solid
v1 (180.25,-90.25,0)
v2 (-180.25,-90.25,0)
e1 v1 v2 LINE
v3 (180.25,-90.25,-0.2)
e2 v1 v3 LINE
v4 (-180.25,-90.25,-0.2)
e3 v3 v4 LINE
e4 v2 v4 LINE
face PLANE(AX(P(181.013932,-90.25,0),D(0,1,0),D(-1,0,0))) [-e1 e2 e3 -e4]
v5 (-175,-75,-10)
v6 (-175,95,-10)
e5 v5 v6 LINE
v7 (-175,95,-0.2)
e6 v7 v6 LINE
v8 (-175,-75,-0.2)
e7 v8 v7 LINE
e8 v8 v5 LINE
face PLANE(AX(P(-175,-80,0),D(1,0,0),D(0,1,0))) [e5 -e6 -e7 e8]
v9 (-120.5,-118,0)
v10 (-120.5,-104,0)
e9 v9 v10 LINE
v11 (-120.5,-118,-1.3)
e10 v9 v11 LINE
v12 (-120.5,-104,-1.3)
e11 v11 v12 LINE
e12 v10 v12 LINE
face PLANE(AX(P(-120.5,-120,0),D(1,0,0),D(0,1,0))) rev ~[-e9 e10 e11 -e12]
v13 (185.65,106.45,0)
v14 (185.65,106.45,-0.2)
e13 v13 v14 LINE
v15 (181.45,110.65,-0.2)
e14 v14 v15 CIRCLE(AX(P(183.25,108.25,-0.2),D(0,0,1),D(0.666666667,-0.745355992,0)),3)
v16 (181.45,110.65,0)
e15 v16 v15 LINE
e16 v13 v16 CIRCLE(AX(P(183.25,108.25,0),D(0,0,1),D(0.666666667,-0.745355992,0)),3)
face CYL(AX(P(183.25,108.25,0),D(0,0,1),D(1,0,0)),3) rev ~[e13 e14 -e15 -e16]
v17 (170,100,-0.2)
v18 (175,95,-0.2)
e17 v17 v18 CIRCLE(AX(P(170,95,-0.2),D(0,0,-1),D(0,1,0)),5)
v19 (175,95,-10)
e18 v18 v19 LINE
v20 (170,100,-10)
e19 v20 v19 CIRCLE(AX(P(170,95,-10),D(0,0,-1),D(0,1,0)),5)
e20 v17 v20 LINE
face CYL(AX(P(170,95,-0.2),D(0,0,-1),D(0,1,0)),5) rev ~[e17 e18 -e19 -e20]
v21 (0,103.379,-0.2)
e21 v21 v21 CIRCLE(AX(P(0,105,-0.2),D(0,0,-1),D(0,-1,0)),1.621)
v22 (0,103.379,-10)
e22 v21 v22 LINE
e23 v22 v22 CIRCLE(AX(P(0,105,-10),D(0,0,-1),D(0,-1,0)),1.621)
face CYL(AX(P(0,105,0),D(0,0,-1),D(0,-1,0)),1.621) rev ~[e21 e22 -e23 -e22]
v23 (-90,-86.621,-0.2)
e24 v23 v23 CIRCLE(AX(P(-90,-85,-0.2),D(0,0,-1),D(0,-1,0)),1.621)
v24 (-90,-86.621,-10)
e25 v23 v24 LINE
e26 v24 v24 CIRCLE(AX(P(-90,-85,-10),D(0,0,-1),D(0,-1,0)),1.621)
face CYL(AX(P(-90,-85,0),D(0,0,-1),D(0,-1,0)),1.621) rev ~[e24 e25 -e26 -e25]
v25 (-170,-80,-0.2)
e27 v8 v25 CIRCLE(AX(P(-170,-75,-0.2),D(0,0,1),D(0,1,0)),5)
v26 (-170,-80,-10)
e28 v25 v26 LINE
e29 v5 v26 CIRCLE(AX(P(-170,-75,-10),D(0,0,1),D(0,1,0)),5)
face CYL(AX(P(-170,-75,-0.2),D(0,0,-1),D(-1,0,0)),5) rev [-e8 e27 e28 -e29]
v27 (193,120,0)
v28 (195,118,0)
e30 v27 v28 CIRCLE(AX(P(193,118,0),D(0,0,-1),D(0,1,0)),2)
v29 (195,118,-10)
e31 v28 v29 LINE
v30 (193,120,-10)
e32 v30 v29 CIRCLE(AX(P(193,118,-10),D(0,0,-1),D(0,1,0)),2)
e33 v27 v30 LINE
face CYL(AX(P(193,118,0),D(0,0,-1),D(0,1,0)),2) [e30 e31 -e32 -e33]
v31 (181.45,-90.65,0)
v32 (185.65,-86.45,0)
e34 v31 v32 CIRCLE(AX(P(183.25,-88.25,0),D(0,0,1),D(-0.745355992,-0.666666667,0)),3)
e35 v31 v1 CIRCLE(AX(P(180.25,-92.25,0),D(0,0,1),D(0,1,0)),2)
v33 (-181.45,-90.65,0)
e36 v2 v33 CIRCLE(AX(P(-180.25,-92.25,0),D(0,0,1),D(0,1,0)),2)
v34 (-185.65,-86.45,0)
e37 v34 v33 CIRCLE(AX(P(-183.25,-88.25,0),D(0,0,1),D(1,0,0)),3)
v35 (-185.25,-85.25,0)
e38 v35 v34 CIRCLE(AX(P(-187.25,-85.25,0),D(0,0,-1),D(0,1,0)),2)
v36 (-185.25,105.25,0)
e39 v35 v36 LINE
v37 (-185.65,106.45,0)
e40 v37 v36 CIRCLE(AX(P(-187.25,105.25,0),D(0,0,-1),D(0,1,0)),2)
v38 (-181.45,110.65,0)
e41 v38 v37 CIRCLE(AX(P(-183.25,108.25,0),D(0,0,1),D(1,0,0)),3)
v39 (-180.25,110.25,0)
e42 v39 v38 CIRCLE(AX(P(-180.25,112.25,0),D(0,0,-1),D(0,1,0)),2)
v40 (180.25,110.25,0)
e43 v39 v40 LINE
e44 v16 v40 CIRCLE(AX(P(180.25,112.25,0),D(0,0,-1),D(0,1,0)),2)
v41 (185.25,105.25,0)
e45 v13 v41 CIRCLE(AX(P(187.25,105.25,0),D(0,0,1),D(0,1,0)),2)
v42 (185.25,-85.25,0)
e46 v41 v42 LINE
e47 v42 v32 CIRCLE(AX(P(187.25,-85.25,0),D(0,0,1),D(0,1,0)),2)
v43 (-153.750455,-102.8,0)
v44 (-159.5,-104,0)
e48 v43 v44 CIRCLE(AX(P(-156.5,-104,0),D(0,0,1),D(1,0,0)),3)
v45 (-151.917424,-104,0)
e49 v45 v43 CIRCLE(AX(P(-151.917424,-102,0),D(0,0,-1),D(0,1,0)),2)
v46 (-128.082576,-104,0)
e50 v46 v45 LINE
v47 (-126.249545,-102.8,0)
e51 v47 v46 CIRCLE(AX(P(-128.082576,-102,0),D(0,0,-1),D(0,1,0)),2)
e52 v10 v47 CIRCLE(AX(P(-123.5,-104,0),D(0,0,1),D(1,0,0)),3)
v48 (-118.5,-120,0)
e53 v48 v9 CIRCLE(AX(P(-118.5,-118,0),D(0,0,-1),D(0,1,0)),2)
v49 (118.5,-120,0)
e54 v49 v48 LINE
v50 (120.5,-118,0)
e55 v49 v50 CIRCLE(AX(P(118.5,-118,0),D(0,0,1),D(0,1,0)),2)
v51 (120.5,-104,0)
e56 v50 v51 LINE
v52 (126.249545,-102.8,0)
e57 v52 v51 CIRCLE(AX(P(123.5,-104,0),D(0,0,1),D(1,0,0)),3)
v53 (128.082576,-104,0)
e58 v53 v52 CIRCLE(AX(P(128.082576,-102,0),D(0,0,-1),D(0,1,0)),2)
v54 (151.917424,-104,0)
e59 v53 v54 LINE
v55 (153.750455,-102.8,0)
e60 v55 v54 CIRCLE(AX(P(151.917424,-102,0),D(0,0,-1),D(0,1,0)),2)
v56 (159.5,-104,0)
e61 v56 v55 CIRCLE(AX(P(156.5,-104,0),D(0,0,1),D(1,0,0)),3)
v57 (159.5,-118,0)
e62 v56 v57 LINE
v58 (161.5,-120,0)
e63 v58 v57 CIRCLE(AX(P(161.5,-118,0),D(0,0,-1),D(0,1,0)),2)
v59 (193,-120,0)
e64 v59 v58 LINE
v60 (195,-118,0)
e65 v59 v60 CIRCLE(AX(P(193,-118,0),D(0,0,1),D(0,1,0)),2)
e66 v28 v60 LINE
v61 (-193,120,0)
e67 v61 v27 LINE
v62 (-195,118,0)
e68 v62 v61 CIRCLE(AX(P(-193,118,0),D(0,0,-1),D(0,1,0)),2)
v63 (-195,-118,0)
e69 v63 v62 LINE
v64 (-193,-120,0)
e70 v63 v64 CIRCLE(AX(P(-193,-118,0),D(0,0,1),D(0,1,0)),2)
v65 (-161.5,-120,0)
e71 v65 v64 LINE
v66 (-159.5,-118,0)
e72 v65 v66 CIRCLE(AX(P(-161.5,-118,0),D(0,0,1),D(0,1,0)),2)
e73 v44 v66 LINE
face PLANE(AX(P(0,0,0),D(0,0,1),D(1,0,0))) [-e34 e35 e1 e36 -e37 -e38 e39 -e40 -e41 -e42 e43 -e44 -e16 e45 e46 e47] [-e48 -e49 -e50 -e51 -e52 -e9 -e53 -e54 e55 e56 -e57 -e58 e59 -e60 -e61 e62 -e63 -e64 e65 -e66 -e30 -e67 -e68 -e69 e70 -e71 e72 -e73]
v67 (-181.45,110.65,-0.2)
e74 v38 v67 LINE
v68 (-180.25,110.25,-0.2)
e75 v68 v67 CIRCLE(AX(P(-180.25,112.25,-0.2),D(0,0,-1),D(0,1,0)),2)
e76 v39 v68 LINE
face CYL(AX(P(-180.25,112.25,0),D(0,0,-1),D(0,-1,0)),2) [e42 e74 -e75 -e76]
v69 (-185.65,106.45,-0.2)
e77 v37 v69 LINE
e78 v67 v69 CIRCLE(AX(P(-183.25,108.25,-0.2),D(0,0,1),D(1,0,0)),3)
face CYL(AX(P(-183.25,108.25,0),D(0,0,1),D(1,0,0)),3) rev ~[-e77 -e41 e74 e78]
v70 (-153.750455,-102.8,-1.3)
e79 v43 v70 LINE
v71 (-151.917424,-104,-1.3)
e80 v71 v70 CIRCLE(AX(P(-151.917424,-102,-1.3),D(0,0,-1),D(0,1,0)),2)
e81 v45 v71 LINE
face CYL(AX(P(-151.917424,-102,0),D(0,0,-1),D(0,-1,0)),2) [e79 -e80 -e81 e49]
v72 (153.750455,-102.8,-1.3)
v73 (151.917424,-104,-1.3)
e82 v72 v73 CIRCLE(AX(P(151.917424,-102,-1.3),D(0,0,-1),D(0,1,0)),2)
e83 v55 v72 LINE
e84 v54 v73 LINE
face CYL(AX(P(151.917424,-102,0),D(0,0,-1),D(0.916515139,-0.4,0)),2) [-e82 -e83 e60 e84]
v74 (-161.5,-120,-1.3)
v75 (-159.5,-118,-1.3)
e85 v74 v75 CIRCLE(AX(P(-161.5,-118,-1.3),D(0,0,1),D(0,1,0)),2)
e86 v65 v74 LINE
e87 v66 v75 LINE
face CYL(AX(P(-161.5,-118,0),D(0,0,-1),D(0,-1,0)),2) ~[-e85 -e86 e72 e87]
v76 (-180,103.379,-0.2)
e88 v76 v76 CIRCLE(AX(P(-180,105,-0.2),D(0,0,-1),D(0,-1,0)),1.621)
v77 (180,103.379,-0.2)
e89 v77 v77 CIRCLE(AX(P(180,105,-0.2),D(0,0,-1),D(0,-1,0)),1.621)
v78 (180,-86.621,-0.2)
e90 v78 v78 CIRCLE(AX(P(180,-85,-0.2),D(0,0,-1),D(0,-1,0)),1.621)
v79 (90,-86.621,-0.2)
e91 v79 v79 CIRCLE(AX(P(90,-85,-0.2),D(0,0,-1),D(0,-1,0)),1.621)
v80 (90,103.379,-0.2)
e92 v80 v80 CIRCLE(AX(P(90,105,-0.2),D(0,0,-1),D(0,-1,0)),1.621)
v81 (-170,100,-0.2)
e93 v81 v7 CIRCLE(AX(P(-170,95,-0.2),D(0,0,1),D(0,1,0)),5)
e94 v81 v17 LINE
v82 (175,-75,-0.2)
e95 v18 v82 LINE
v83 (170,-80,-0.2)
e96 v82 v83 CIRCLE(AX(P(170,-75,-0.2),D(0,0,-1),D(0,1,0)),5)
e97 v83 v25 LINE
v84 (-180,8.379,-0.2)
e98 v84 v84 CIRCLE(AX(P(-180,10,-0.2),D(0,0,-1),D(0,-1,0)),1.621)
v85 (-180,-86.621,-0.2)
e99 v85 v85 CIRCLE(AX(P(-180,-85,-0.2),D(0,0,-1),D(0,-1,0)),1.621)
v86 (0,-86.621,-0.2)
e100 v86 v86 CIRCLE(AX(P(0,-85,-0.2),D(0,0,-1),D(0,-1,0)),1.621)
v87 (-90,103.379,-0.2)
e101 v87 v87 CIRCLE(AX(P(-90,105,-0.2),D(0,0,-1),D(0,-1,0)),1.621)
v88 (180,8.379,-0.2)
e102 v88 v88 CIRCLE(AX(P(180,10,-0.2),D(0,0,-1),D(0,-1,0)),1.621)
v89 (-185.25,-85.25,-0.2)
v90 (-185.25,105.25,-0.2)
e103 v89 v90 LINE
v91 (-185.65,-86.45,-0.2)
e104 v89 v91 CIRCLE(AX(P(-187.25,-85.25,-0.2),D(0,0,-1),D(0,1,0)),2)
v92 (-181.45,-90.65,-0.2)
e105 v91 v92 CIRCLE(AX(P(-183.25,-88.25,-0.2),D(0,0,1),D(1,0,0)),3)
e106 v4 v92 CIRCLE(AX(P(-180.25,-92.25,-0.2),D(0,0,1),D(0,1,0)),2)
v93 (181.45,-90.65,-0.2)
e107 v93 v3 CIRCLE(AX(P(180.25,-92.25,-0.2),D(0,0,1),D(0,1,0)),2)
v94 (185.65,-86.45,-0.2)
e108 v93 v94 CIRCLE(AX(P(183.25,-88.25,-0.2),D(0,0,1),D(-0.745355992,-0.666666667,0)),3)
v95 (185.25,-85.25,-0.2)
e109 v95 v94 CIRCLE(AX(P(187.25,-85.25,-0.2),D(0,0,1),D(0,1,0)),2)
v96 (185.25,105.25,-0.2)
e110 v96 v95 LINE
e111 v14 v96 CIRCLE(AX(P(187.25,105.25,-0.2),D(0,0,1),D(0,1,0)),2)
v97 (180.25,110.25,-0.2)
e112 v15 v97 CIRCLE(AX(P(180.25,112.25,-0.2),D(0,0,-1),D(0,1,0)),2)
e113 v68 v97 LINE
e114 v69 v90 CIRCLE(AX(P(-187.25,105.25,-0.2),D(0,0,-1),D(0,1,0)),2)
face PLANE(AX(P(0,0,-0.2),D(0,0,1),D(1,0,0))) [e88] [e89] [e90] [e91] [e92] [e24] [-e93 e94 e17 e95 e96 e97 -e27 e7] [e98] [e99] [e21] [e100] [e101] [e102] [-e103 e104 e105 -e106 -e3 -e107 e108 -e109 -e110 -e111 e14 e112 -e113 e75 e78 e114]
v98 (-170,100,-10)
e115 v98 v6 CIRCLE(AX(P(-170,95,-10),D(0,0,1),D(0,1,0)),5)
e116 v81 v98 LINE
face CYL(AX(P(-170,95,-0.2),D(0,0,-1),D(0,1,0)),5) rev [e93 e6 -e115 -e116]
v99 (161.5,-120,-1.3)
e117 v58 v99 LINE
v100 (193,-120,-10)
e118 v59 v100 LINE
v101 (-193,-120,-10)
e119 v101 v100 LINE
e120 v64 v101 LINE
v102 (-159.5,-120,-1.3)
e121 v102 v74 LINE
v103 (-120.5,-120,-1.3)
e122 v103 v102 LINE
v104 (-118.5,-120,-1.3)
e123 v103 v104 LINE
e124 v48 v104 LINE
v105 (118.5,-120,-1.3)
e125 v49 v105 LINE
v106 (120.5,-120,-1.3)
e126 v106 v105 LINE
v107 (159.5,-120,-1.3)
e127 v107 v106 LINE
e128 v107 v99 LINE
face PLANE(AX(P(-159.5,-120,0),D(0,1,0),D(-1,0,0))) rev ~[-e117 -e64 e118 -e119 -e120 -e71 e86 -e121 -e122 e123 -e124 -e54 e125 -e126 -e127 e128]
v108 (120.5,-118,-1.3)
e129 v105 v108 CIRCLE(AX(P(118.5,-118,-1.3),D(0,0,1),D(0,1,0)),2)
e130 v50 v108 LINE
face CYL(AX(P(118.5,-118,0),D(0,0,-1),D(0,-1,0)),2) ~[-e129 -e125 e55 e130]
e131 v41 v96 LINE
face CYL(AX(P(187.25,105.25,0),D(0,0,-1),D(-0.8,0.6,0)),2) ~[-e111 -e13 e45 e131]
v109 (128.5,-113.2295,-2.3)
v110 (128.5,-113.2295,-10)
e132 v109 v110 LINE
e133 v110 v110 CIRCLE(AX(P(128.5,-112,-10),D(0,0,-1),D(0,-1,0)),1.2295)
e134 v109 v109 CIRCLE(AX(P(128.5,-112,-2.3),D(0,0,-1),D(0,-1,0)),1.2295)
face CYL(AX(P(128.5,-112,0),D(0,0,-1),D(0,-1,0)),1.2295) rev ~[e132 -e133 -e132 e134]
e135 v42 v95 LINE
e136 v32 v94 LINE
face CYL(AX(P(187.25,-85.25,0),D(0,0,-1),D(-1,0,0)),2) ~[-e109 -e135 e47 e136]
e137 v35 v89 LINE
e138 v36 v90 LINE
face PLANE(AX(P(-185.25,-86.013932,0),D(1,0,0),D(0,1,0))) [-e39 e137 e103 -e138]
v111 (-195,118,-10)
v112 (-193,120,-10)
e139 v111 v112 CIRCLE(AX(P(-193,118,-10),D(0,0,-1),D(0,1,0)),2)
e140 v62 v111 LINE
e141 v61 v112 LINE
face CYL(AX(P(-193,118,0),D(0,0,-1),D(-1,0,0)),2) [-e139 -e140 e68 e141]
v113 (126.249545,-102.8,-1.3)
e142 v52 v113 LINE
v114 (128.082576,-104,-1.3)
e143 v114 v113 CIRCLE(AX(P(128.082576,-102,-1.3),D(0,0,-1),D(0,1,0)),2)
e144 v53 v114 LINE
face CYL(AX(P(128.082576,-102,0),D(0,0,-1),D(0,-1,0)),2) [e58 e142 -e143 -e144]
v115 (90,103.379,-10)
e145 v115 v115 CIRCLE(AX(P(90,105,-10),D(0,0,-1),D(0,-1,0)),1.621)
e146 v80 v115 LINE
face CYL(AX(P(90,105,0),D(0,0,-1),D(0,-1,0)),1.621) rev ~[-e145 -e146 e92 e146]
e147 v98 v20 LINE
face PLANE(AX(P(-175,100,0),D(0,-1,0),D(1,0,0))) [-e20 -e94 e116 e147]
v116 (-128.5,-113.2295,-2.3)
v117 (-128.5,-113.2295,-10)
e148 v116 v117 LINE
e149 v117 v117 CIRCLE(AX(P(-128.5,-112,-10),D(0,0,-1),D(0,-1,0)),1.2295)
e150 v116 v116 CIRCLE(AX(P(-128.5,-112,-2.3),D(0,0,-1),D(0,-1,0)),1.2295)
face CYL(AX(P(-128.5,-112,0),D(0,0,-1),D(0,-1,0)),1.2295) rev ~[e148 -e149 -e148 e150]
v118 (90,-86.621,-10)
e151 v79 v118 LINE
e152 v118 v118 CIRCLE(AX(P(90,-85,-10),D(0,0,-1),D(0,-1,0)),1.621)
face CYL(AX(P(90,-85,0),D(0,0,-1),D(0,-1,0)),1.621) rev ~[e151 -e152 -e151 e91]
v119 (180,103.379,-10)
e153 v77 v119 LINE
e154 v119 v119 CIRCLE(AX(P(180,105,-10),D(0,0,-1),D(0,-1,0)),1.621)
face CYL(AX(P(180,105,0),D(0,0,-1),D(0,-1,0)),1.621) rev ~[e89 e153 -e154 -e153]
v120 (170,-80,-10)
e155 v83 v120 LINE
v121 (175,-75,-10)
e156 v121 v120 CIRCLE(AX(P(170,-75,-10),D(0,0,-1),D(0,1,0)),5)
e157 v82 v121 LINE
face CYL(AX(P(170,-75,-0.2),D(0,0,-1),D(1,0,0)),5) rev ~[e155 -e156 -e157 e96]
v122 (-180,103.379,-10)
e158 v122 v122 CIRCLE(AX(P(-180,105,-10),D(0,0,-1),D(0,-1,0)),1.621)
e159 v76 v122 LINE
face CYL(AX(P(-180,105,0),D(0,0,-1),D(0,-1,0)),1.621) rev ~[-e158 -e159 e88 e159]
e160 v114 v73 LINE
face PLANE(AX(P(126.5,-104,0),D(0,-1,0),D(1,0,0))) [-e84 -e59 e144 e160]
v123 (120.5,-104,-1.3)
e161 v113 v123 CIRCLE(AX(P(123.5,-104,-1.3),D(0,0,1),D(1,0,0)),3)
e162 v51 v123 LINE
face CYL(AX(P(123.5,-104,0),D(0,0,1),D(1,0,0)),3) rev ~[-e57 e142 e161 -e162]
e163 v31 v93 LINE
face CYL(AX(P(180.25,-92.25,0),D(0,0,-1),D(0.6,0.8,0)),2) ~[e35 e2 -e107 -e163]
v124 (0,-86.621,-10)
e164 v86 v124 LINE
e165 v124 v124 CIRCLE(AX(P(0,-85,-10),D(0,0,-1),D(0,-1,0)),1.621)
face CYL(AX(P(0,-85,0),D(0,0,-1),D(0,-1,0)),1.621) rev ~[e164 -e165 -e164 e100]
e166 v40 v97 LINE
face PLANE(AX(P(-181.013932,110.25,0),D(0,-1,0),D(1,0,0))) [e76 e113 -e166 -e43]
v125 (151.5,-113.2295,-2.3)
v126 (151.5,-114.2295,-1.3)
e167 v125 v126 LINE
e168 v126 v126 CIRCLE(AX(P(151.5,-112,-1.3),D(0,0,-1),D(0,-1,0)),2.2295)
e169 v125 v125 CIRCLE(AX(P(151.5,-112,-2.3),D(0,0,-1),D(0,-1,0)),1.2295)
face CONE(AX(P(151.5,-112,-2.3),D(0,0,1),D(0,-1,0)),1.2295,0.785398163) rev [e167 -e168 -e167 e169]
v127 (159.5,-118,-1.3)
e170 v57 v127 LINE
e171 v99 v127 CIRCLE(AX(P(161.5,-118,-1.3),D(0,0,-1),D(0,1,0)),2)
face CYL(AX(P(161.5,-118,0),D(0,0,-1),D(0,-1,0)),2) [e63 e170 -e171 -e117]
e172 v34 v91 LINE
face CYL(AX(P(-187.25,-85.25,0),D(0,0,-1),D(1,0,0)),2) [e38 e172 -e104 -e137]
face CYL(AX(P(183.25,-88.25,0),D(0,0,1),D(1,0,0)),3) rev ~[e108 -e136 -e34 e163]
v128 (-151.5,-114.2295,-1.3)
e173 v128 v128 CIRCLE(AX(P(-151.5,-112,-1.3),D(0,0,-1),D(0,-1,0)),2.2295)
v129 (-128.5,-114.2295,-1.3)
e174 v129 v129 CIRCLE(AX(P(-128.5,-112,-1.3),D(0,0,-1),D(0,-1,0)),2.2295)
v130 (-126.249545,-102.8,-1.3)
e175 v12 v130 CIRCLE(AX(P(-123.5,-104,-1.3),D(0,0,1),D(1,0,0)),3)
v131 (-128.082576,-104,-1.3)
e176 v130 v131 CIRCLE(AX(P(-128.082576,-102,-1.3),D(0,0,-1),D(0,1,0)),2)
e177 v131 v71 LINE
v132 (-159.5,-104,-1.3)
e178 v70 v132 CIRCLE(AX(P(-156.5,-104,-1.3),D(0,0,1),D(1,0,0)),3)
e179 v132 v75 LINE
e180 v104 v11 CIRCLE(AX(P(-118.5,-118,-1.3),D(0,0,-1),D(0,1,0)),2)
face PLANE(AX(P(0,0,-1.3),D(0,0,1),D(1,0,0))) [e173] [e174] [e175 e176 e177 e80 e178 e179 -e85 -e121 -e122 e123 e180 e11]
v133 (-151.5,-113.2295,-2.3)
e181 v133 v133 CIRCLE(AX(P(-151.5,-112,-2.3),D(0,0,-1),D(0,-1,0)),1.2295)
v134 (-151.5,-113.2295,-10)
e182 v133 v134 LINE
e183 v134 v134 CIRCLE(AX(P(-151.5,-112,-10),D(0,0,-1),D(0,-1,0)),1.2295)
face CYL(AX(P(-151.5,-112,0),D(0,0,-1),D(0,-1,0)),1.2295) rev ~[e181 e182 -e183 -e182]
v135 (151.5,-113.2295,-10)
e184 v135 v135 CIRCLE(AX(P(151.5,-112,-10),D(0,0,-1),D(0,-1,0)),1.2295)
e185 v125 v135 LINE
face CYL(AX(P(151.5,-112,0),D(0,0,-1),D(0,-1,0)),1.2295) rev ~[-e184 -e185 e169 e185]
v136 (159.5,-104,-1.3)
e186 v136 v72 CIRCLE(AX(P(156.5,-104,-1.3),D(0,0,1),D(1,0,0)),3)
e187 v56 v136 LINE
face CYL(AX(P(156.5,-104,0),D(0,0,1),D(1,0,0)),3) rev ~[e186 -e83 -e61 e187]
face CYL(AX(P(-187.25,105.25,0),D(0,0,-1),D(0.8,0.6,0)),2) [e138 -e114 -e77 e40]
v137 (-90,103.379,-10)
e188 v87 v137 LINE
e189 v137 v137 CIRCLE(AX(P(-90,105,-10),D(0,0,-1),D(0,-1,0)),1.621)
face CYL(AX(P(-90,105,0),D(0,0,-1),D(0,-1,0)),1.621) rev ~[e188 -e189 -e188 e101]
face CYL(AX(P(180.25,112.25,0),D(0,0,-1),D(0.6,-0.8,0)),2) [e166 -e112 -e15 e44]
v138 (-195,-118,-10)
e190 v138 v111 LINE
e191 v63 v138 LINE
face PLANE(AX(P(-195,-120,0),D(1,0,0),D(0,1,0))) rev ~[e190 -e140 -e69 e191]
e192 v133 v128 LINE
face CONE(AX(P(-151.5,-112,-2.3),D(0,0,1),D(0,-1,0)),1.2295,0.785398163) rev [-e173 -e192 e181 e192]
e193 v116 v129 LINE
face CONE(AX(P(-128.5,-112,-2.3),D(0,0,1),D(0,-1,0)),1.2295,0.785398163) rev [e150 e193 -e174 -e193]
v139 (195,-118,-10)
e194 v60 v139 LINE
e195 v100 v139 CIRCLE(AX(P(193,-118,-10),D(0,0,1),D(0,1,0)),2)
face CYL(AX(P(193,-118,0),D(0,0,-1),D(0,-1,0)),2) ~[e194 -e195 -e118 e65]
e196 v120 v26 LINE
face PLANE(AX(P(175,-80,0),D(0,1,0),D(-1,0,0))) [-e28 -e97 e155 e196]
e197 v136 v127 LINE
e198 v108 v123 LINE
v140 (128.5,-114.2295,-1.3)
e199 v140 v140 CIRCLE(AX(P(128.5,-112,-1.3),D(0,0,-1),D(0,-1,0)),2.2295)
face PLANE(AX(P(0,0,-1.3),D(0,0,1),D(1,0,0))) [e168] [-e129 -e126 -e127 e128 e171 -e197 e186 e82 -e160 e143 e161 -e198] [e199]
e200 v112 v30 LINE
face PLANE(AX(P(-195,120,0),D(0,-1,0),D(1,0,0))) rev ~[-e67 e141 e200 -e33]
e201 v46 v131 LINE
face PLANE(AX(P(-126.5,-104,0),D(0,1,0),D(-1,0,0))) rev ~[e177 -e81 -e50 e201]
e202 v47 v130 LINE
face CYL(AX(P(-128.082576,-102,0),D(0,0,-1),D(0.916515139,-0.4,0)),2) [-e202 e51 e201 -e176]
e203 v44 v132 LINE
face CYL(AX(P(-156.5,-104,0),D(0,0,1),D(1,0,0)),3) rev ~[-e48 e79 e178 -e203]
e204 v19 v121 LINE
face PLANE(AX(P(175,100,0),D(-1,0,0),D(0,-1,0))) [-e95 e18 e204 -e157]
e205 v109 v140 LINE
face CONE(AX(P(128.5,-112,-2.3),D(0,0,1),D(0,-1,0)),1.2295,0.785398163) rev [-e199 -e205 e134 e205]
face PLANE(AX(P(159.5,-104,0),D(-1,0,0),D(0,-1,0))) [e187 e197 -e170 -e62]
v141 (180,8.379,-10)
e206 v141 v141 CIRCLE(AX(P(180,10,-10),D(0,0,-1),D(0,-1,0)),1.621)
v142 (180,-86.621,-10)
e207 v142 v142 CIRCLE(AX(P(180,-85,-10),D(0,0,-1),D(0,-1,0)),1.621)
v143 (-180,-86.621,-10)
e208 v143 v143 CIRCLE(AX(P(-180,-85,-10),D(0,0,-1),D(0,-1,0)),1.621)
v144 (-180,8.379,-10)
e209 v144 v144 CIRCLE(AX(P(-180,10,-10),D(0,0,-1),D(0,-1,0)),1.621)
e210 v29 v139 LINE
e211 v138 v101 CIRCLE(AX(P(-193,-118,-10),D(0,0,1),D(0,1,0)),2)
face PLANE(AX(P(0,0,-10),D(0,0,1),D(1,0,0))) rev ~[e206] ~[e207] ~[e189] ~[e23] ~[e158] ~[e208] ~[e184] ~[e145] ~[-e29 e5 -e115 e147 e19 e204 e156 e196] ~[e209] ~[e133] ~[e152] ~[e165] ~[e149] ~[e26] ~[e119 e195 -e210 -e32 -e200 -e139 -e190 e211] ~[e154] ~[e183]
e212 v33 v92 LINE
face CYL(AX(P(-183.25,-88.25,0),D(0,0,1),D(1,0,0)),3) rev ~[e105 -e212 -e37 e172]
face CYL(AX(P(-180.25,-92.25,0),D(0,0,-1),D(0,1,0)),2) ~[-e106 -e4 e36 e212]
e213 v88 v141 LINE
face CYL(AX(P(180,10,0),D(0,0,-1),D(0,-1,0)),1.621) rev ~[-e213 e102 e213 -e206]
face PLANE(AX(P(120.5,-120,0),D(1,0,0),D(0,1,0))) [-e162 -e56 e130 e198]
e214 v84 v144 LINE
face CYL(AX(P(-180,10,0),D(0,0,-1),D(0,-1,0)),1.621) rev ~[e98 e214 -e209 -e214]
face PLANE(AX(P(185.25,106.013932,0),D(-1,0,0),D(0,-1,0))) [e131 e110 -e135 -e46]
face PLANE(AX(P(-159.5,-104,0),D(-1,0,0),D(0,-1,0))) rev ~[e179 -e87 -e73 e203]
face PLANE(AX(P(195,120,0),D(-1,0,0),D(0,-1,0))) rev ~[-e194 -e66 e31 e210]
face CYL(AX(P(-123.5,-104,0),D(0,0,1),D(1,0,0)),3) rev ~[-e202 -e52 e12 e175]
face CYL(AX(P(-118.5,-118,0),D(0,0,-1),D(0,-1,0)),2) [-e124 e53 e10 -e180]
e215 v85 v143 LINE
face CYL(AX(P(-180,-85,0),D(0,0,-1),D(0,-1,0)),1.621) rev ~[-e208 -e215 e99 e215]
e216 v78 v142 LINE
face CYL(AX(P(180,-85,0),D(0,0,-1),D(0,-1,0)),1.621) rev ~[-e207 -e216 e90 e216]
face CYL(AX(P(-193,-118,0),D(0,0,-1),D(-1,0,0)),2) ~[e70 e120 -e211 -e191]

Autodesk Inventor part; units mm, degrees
ref_plane "YZ Plane" through (0, 0, 0) normal (1, 0, 0) x (0, 1, 0)
ref_plane "XZ Plane" through (0, 0, 0) normal (0, 1, 0) x (-1, 0, 0)
ref_plane "XY Plane" through (0, 0, 0) normal (0, 0, 1) x (1, 0, 0)
sketch "Esboço1" plane through (0, 0, 0) normal (0, 0, 1) x (1, 0, 0)
  line L0 (-195, -120) -> (-195, 120)
  line L1 (-195, 120) -> (195, 120)
  line L2 (195, 120) -> (195, -120)
  line L3 (195, -120) -> (-195, -120)
  line L4 (0, 168.2) -> (0, -169.2) construction
  line L5 (-273, 0) -> (273, 0) construction
  line L6 (175, 100) -> (175, -80)
  line L7 (175, -80) -> (-175, -80)
  line L8 (-175, -80) -> (-175, 100)
  line L9 (-175, 100) -> (175, 100)
  line L10 (185, 110) -> (185, -90) construction
  line L11 (185, -90) -> (-185, -90) construction
  line L12 (-185, -90) -> (-185, 110) construction
  line L13 (-185, 110) -> (185, 110) construction
  line L14 (185.25, 110.25) -> (185.25, -90.25)
  line L15 (185.25, -90.25) -> (-185.25, -90.25)
  line L16 (-185.25, -90.25) -> (-185.25, 110.25)
  line L17 (-185.25, 110.25) -> (185.25, 110.25)
  circle A0 centre (183.25, 108.25) radius 3
  circle A1 centre (-183.25, 108.25) radius 3
  line L18 (175, 10) -> (-175, 10) construction
  circle A2 centre (183.25, -88.25) radius 3
  circle A3 centre (-183.25, -88.25) radius 3
  line L19 (180, 105) -> (180, -85) construction
  line L20 (180, -85) -> (-180, -85) construction
  line L21 (-180, -85) -> (-180, 105) construction
  line L22 (-180, 105) -> (180, 105) construction
  line L23 (159.5, -104) -> (159.5, -120)
  line L24 (159.5, -120) -> (120.5, -120)
  line L25 (120.5, -120) -> (120.5, -104)
  line L26 (120.5, -104) -> (159.5, -104)
  line L27 (140, -104) -> (140, -120) construction
  line L28 (159.5, -112) -> (120.5, -112) construction
  circle A4 centre (123.5, -104) radius 3
  line L29 (-159.5, -104) -> (-159.5, -120)
  line L30 (-159.5, -120) -> (-120.5, -120)
  line L31 (-120.5, -120) -> (-120.5, -104)
  line L32 (-120.5, -104) -> (-159.5, -104)
  line L33 (-140, -105) -> (-140, -121) construction
  line L34 (-159.5, -112) -> (-120.5, -112) construction
  circle A5 centre (-156.5, -104) radius 3
  circle A6 centre (-123.5, -104) radius 3
  circle A7 centre (156.5, -104) radius 3
  point P0 (0, 0)
  point P1 (0, -85)
  point P2 (-180, 10)
  point P3 (180, 10)
  point P4 (0, 105)
  point P5 (151.5, -112)
  point P6 (128.5, -112)
  point P7 (-151.5, -112)
  point P8 (-128.5, -112)
  point P9 (-181.0139, 110.25)
  point P10 (-185.25, 106.0139)
  point P11 (-185.25, -86.0139)
  point P12 (-181.0139, -90.25)
  point P13 (181.0139, -90.25)
  point P14 (185.25, -86.0139)
  point P15 (185.25, 106.0139)
  point P16 (181.0139, 110.25)
  point P17 (159.5, -120)
  point P18 (126.5, -104)
  point P19 (-153.5, -104)
  point P20 (-159.5, -120)
  point P21 (-126.5, -104)
  point P22 (-90, 105)
  point P23 (90, 105)
  point P24 (-90, -85)
  point P25 (90, -85)
  point P26 (106.5, -104)
  point P27 (153.5, -104)
  dimension "d112" = 10
  dimension "d113" = 0.25
  dimension "d114" = 6
  dimension "d115" = 2
  dimension "d116" = 2
  dimension "d117" = 5
  dimension "d123" = 16
  dimension "d124" = 8
  dimension "d125" = 39
  dimension "d126" = 280
  dimension "d127" = 240
  dimension "d128" = 390
  dimension "d129" = 20
  dimension "d130" = 200
  dimension "d131" = 350
  dimension "d132" = 10
  dimension "d133" = 0.25
  dimension "d134" = 5
  dimension "d163" = 90
  dimension "d164" = 90
  dimension "d165" = 23
  dimension "d166" = 370
extrude "Extrusão1" add sketch "Esboço1" against normal blind 10 contours L0 L1 L2 L3 L23 A7 L26 A4 L25 L31 A6 L32 A5 L29 | L29 A5 L32 A6 L31 L3 | A5 L32 | L32 A5 | L25 A4 L26 A7 L23 L3 | A6 L32 | L32 A6 | A4 L26 | L26 A4 | A7 L26 | L26 A7 | L6 L7 L8 L9 | L17 A0 L14 | L14 A0 L17 | L14 A2 L15 A3 L16 A1 L17 A0 | A2 L15 L14 | L14 L15 A2 | A1 L16 L17 | L17 L16 A1 | A3 L16 L15 | L15 L16 A3
extrude "Extrusion13" cut sketch "Esboço1" against normal blind 0.2 contours L6 L7 L8 L9 | L17 A0 L14 | L14 A0 L17 | L14 A2 L15 A3 L16 A1 L17 A0 | A2 L15 L14 | L14 L15 A2 | A1 L16 L17 | L17 L16 A1 | A3 L16 L15 | L15 L16 A3
extrude "Extrusion14" cut sketch "Esboço1" against normal blind 1.3 contours L29 A5 L32 A6 L31 L3 | A5 L32 | L32 A5 | L25 A4 L26 A7 L23 L3 | A6 L32 | L32 A6 | A4 L26 | L26 A4 | A7 L26 | L26 A7
extrude "Extrusion15" cut sketch "Esboço1" against normal through all contours L6 L7 L8 L9
hole "Hole4" at (-151.5, -112, 0) at (-128.5, -112, 0) at (128.5, -112, 0) at (151.5, -112, 0) direction (0, 0, -1) diameter 2.459 end through all thread size "M3x0.5" class "6H" standard "ISO Metric profile"
hole "Hole5" at (0, -85, 0) at (-180, -85, 0) at (-180, 10, 0) at (180, -85, 0) at (180, 10, 0) at (-180, 105, 0) at (0, 105, 0) at (180, 105, 0) at (90, -85, 0) at (90, 105, 0) at (-90, 105, 0) at (-90, -85, 0) direction (0, 0, -1) diameter 3.242 end through all thread size "M4x0.7" class "6H" standard "ISO Metric profile"
fillet "Fillet2" radius 2 20 edges at (-185.25, -86.0139, -0.1) (-181.0139, -90.25, -0.1) (-185.25, 106.0139, -0.1) (-181.0139, 110.25, -0.1) (181.0139, 110.25, -0.1) (185.25, 106.0139, -0.1) (181.0139, -90.25, -0.1) (185.25, -86.0139, -0.1) (-153.5, -104, -0.65) (-126.5, -104, -0.65) (195, -120, -5) (-195, -120, -5) (-195, 120, -5) (195, 120, -5) (153.5, -104, -0.65) (159.5, -120, -0.65) (120.5, -120, -0.65) (-159.5, -120, -0.65) (-120.5, -120, -0.65) (126.5, -104, -0.65)
fillet "Fillet2" radius 5 4 edges at (-175, 100, -5.1) (-175, -80, -5.1) (175, -80, -5.1) (175, 100, -5.1)
chamfer "Chamfer2" distance 1 angle 45 4 edges at (-151.5, -110.7705, -1.3) (-128.5, -110.7705, -1.3) (128.5, -110.7705, -1.3) (151.5, -110.7705, -1.3)
equation "\"d115\" = 0.333333 * d114"
equation "\"d116\" = d115"
properties part number "GRJ-04-105" material "Fenolite OR"
